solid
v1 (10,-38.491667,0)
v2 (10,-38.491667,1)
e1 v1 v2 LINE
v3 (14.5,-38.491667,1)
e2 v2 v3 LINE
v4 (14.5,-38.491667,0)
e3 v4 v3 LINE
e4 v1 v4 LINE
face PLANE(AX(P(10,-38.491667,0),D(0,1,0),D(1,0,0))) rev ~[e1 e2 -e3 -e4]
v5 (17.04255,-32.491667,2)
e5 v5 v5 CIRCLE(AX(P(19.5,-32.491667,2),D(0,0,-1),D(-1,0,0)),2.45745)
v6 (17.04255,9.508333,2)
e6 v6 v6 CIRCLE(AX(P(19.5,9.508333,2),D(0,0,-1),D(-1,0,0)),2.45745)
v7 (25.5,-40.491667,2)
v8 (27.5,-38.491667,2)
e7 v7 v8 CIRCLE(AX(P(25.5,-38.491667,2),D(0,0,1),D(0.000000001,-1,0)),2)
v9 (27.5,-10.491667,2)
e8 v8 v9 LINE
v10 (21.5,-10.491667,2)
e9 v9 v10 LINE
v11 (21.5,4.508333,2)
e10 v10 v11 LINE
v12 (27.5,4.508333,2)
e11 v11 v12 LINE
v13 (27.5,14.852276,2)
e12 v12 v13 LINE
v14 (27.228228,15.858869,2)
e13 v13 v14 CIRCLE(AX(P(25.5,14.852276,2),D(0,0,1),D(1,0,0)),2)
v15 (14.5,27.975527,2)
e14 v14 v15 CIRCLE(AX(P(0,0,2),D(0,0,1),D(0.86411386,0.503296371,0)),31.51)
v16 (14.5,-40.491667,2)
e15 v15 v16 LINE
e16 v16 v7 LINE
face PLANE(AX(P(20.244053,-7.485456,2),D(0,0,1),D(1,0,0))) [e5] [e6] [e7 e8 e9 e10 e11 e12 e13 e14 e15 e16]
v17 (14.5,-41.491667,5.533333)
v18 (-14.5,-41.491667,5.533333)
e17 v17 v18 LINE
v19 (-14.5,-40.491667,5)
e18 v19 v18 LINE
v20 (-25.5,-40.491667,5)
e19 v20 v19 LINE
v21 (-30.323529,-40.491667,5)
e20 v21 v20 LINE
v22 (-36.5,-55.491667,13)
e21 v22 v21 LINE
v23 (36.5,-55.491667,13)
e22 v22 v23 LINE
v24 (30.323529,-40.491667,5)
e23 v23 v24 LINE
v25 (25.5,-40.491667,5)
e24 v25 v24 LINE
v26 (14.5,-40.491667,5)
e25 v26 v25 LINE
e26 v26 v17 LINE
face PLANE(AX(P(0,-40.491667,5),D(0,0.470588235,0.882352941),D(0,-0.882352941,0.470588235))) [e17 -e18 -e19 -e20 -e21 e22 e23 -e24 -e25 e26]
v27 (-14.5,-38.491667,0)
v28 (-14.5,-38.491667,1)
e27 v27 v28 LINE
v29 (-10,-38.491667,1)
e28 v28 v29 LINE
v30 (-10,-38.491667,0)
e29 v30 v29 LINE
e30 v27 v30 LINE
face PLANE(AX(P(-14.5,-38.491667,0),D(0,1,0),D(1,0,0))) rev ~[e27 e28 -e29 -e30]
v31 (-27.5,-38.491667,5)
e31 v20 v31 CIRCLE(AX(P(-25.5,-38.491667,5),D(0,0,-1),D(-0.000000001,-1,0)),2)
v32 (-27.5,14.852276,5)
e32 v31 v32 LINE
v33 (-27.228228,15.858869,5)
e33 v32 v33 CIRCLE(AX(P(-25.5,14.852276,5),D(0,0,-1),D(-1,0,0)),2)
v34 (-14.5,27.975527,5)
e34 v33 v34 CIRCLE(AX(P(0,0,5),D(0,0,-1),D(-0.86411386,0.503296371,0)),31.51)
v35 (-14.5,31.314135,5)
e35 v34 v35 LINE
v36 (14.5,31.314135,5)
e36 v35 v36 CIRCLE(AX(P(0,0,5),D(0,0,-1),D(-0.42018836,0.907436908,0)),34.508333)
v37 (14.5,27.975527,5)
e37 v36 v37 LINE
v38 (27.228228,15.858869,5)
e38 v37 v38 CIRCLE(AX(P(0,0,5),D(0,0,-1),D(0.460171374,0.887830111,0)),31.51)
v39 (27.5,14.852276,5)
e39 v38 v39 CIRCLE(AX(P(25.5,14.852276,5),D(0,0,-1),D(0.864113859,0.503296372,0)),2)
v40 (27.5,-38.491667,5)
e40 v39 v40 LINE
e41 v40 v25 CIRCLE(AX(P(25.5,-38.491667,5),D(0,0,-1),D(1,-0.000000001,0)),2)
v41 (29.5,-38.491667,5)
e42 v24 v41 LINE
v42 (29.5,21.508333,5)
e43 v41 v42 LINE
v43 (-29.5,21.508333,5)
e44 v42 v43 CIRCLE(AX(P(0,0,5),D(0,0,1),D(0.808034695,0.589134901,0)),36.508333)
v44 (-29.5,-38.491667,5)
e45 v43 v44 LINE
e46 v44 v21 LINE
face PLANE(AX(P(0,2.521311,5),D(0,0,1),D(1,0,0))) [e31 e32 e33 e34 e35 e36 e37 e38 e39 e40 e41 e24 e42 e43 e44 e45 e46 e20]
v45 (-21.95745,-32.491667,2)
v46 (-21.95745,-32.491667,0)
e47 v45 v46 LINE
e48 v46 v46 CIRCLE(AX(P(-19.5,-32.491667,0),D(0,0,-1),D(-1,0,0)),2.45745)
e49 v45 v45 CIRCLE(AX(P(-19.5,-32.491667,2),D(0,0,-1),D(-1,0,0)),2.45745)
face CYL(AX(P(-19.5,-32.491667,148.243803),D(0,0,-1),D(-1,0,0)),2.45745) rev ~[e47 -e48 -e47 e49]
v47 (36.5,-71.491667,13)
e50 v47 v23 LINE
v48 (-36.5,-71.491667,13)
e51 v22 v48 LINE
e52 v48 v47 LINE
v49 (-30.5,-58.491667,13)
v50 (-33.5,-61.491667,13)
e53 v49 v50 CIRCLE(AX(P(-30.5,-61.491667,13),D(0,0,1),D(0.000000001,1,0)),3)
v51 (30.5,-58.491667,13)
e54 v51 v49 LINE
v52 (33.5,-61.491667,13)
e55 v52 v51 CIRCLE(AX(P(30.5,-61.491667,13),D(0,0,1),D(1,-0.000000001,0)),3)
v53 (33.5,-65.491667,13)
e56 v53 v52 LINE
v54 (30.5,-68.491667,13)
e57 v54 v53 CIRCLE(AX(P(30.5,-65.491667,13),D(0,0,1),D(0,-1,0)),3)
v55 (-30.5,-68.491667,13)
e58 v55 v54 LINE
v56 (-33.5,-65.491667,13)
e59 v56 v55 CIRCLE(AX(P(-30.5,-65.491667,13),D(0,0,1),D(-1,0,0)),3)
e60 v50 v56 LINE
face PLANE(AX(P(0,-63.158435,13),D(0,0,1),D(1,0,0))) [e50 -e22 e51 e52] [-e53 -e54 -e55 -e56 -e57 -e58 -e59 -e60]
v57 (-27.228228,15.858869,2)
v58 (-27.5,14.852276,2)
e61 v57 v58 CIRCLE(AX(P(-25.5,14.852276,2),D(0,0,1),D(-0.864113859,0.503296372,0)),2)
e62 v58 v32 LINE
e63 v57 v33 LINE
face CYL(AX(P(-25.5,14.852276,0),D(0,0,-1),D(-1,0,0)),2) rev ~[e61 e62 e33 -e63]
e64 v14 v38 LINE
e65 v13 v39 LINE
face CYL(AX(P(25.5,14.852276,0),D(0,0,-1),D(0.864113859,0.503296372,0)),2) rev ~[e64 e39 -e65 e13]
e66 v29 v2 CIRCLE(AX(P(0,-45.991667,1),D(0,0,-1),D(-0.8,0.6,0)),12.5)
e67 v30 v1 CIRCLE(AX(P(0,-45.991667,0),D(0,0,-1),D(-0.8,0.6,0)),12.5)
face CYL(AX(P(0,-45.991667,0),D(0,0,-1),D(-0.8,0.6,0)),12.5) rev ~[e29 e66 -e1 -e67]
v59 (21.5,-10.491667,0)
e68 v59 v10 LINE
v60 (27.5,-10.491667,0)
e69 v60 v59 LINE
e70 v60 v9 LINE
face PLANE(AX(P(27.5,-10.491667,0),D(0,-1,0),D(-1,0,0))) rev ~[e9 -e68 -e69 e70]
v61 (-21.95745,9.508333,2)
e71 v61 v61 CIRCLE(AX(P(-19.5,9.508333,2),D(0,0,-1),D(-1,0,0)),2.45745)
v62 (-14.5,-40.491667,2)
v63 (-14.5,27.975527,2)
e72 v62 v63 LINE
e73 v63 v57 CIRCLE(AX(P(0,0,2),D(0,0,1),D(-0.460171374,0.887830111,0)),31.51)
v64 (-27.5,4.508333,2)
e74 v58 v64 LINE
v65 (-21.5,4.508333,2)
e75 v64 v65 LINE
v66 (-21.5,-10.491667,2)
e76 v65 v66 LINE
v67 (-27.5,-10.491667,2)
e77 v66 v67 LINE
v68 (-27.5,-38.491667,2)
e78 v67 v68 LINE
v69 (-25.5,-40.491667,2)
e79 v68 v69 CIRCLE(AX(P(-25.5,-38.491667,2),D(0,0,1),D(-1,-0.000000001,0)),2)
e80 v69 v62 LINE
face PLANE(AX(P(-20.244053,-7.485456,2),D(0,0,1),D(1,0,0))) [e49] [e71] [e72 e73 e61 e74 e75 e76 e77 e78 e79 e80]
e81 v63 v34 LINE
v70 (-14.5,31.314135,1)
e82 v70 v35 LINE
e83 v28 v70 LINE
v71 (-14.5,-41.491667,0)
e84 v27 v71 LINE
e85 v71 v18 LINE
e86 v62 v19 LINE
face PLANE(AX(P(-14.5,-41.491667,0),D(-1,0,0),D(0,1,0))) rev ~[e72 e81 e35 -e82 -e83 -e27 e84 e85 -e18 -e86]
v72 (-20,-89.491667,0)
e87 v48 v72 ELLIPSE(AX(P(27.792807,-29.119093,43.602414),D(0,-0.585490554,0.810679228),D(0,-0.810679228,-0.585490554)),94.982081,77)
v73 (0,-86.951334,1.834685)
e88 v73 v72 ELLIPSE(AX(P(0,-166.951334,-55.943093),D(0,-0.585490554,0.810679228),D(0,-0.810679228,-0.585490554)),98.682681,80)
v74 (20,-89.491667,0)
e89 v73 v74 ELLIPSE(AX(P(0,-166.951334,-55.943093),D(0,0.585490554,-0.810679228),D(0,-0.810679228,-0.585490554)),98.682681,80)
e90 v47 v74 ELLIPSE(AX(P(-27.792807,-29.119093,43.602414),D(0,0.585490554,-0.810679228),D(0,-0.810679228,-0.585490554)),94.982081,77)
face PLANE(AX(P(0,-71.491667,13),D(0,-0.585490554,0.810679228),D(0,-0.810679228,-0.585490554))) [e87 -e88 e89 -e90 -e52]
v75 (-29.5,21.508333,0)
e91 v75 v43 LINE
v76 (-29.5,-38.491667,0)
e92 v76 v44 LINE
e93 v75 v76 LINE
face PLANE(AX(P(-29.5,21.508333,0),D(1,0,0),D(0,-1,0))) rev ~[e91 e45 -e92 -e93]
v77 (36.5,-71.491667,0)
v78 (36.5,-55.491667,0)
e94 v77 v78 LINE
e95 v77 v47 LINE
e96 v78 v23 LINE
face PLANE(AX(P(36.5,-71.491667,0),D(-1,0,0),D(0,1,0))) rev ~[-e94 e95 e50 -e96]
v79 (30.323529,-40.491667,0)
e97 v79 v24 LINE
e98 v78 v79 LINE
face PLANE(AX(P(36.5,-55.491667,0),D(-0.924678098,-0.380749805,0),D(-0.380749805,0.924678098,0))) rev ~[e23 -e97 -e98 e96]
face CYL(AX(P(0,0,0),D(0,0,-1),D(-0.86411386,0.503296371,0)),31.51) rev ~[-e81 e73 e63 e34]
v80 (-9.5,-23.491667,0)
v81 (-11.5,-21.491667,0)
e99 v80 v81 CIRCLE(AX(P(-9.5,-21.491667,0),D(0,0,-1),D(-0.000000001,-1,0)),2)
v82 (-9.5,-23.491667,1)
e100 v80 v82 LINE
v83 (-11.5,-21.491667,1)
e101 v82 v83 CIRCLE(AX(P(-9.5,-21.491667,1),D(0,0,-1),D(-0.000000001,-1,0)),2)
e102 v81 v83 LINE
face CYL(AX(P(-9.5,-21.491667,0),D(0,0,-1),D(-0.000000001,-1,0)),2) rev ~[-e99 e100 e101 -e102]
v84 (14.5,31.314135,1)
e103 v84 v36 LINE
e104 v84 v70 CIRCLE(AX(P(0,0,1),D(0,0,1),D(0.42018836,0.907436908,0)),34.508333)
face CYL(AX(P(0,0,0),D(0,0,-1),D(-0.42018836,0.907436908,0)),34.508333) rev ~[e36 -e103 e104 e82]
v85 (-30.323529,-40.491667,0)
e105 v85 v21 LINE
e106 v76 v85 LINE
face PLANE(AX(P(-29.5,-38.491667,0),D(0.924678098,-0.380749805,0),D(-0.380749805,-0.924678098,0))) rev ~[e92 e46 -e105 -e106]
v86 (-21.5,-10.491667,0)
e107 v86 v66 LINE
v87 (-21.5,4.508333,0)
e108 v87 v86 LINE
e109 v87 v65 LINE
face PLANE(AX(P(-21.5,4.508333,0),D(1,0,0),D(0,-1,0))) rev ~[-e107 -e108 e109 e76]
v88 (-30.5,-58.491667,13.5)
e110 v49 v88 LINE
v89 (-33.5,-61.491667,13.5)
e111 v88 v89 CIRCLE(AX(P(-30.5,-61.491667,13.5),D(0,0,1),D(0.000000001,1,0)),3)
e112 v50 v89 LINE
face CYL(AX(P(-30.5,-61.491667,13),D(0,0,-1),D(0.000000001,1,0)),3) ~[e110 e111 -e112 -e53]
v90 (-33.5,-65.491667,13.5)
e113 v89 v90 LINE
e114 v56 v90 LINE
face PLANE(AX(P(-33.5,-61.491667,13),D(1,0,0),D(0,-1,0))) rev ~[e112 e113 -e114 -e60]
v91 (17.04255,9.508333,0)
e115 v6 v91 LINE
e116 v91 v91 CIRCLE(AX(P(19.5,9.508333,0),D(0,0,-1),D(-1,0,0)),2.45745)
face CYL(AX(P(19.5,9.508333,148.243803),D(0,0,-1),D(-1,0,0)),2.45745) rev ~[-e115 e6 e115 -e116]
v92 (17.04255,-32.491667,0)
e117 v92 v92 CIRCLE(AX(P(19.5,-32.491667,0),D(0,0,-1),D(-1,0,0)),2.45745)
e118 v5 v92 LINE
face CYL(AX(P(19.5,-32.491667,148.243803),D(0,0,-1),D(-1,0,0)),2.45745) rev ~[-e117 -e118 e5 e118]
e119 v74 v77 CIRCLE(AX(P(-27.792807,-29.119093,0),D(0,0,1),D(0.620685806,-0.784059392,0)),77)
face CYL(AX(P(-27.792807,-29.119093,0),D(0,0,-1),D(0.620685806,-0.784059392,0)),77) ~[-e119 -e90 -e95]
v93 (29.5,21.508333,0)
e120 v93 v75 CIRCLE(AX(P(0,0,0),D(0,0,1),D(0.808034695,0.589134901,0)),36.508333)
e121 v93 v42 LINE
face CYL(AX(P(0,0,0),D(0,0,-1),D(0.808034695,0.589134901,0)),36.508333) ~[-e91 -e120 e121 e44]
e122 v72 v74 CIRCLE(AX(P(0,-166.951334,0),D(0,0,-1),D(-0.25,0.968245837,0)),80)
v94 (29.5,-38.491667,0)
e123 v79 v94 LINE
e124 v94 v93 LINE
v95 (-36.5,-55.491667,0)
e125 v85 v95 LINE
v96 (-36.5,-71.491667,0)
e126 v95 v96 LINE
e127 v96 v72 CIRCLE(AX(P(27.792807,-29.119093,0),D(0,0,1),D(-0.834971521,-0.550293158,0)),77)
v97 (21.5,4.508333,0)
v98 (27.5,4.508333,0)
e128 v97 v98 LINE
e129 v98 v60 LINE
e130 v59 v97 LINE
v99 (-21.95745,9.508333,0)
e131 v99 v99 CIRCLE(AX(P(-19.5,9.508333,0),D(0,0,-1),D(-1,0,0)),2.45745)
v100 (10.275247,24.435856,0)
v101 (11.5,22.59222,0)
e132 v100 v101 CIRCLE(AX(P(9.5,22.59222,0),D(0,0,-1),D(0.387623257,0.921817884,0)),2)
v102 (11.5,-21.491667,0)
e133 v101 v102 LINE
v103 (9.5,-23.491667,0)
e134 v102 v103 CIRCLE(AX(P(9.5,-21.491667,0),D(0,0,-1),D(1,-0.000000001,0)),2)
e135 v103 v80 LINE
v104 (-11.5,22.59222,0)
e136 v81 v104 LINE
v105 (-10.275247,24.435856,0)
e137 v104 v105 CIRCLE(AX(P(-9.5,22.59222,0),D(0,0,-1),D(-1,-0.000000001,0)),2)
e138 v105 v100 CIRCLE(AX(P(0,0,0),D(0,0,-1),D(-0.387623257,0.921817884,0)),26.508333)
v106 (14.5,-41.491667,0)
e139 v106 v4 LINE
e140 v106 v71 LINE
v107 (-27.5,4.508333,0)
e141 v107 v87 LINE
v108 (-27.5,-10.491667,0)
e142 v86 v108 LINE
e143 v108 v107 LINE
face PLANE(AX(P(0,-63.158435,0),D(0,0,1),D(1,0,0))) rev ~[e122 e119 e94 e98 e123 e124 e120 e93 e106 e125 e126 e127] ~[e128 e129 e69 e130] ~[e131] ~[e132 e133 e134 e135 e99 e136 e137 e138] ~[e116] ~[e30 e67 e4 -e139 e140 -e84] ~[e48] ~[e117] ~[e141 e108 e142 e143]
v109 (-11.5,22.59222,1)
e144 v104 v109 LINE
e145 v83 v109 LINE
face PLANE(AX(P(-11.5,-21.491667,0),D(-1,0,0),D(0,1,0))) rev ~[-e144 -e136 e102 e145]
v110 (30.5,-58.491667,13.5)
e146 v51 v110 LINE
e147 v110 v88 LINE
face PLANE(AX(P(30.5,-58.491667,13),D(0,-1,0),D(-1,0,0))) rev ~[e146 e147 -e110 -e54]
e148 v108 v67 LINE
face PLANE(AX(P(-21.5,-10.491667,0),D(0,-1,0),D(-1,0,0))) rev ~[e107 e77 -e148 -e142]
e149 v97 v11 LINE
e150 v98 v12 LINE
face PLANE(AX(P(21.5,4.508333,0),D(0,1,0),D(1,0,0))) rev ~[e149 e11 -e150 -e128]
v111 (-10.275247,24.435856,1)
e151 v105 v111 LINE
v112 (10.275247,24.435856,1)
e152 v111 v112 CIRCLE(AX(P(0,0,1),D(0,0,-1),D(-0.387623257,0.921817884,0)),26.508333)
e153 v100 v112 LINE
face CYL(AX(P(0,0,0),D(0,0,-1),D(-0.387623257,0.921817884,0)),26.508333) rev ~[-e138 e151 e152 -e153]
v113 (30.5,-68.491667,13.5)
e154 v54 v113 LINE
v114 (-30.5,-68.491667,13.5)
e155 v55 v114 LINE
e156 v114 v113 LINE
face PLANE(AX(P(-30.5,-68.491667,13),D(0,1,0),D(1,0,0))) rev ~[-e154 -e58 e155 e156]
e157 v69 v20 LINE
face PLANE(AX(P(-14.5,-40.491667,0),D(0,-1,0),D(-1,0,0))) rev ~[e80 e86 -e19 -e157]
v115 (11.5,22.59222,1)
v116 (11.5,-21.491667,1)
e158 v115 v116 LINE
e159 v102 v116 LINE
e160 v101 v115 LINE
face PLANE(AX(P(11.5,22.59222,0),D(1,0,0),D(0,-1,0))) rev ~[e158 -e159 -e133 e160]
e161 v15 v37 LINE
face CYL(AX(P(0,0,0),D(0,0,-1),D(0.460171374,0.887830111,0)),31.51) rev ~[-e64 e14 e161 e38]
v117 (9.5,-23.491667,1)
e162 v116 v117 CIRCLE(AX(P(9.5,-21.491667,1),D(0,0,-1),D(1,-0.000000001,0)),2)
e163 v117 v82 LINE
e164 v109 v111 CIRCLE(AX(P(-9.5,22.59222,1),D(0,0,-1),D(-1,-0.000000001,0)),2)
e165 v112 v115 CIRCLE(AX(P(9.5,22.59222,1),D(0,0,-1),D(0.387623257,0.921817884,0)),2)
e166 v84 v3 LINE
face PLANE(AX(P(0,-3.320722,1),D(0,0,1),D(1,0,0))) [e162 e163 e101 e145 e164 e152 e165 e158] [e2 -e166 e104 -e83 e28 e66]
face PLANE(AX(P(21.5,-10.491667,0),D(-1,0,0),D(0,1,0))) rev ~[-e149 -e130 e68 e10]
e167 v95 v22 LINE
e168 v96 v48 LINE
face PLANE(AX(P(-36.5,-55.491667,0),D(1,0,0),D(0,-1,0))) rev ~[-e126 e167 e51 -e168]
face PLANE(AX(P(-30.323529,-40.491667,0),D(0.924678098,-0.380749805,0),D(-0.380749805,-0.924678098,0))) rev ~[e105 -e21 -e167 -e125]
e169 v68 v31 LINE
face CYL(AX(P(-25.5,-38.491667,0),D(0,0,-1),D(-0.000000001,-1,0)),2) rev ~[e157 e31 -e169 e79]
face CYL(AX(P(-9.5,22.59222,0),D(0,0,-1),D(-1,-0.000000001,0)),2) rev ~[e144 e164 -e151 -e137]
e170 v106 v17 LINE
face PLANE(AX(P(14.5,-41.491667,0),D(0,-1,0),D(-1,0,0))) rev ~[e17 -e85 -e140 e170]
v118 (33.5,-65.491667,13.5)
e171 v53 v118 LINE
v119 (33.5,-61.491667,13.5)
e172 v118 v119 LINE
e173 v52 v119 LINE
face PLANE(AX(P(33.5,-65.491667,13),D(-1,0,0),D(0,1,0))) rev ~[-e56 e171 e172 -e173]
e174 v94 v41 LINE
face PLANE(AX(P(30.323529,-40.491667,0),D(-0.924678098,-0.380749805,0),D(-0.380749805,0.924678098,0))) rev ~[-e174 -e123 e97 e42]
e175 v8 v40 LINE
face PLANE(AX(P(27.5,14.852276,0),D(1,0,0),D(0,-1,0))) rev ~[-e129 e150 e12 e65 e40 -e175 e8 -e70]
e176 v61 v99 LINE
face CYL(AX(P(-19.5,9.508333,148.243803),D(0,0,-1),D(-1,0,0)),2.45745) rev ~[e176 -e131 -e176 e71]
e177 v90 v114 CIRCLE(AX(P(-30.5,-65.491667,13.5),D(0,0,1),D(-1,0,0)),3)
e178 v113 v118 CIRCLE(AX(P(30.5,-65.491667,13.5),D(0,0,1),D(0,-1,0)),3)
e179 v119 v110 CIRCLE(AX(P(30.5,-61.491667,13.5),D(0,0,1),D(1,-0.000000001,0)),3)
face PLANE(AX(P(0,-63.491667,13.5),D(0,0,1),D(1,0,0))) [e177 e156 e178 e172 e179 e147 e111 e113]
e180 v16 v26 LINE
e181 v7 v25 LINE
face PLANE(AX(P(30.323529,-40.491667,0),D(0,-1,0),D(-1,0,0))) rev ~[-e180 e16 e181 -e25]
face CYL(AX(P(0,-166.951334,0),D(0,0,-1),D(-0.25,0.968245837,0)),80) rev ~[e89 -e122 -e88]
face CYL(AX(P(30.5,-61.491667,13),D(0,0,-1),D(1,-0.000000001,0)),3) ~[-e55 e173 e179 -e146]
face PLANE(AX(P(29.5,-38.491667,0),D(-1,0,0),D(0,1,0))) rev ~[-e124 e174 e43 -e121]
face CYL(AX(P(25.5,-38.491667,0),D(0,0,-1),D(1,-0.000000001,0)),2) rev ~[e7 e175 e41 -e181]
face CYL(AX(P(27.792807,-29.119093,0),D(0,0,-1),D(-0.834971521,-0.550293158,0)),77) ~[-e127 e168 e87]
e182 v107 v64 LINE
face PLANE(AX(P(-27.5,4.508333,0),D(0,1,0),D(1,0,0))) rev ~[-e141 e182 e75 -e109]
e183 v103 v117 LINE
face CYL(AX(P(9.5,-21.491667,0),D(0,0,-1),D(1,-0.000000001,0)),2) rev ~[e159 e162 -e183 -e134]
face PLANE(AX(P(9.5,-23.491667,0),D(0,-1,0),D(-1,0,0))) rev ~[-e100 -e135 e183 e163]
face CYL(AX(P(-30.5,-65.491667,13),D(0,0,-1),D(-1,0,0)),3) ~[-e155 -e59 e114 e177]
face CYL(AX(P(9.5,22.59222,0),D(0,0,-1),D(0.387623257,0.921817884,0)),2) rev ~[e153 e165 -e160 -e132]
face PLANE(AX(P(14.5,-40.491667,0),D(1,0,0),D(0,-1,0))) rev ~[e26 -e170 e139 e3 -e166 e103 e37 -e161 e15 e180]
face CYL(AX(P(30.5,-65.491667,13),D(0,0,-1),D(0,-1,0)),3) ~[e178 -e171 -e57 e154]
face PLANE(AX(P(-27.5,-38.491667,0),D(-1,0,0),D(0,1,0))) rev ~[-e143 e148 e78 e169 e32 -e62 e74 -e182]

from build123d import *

# Parameters (mm, degrees)
BOSS_EXTRUDE1_DEPTH            = 1
BOSS_EXTRUDE2_DEPTH            = 2
BOSS_EXTRUDE3_DEPTH            = 5
BOSS_EXTRUDE4_DEPTH            = 13
CUT_EXTRUDE1_REACH             = 99.519
CUT_EXTRUDE1_DIRECTION_2_REACH = 99.519
BOSS_EXTRUDE5_DEPTH            = 0.5
F_10_0_1935_DIAMETER_HOLE1_D   = 4.9149


with BuildPart() as part:
    # Sketch1 → Boss-Extrude1 (new body)
    with BuildSketch(Plane.XY):
        with BuildLine():
            Line((-14.5, 27.975526805), (-14.5, -38.491666667))
            Line((-14.5, -38.491666667), (-10, -38.491666667))
            ThreePointArc((-10, -38.491666667), (0, -33.491666667), (10, -38.491666667))
            Line((10, -38.491666667), (14.5, -38.491666667))
            Line((14.5, -38.491666667), (14.5, 27.975526805))
            Line((14.5, 27.975526805), (14.5, 31.314135298))
            ThreePointArc((14.5, 31.314135298), (0, 34.508333333), (-14.5, 31.314135298))
            Line((-14.5, 31.314135298), (-14.5, 27.975526805))
        make_face()
        with BuildLine():
            Line((-11.5, -21.491666667), (-11.5, 22.592219961))
            ThreePointArc((-11.5, 22.592219961), (-11.165907115, 23.698905773), (-10.275246515, 24.435855728))
            ThreePointArc((-10.275246515, 24.435855728), (0, 26.508333333), (10.275246515, 24.435855728))
            ThreePointArc((10.275246515, 24.435855728), (11.165907115, 23.698905773), (11.5, 22.592219961))
            Line((11.5, 22.592219961), (11.5, -21.491666667))
            ThreePointArc((11.5, -21.491666667), (10.914213562, -22.905880229), (9.5, -23.491666667))
            Line((9.5, -23.491666667), (-9.5, -23.491666667))
            ThreePointArc((-9.5, -23.491666667), (-10.914213562, -22.905880229), (-11.5, -21.491666667))
        make_face(mode=Mode.SUBTRACT)
    extrude(amount=BOSS_EXTRUDE1_DEPTH)

    # Sketch1<3> → Boss-Extrude2 (add)
    with BuildSketch(Plane.XY):
        with BuildLine():
            ThreePointArc((-27.5, -38.491666667), (-26.914213562, -39.905880229), (-25.5, -40.491666667))
            Line((-25.5, -40.491666667), (-14.5, -40.491666667))
            Line((-14.5, -40.491666667), (-14.5, 27.975526805))
            ThreePointArc((-14.5, 27.975526805), (-21.72589695, 22.822477992), (-27.228227719, 15.858868663))
            ThreePointArc((-27.228227719, 15.858868663), (-27.430861911, 15.373593751), (-27.5, 14.85227592))
            Line((-27.5, 14.85227592), (-27.5, 4.508333333))
            Line((-27.5, 4.508333333), (-21.5, 4.508333333))
            Line((-21.5, 4.508333333), (-21.5, -10.491666667))
            Line((-21.5, -10.491666667), (-27.5, -10.491666667))
            Line((-27.5, -10.491666667), (-27.5, -38.491666667))
        make_face()
        with BuildLine():
            Line((14.5, -40.491666667), (25.5, -40.491666667))
            ThreePointArc((25.5, -40.491666667), (26.914213562, -39.905880229), (27.5, -38.491666667))
            Line((27.5, -38.491666667), (27.5, -10.491666667))
            Line((27.5, -10.491666667), (21.5, -10.491666667))
            Line((21.5, -10.491666667), (21.5, 4.508333333))
            Line((21.5, 4.508333333), (27.5, 4.508333333))
            Line((27.5, 4.508333333), (27.5, 14.85227592))
            ThreePointArc((27.5, 14.85227592), (27.430861911, 15.373593751), (27.228227719, 15.858868663))
            ThreePointArc((27.228227719, 15.858868663), (21.72589695, 22.822477992), (14.5, 27.975526805))
            Line((14.5, 27.975526805), (14.5, -40.491666667))
        make_face()
    extrude(amount=BOSS_EXTRUDE2_DEPTH)

    # Sketch1<5> → Boss-Extrude3 (add)
    with BuildSketch(Plane.XY):
        with BuildLine():
            ThreePointArc((29.5, 21.508333333), (0, 36.508333333), (-29.5, 21.508333333))
            Line((-29.5, 21.508333333), (-29.5, -38.491666667))
            Line((-29.5, -38.491666667), (-30.323529412, -40.491666667))
            Line((-30.323529412, -40.491666667), (-25.5, -40.491666667))
            ThreePointArc((-25.5, -40.491666667), (-26.914213562, -39.905880229), (-27.5, -38.491666667))
            Line((-27.5, -38.491666667), (-27.5, -10.491666667))
            Line((-27.5, -10.491666667), (-27.5, 4.508333333))
            Line((-27.5, 4.508333333), (-27.5, 14.85227592))
            ThreePointArc((-27.5, 14.85227592), (-27.430861911, 15.373593751), (-27.228227719, 15.858868663))
            ThreePointArc((-27.228227719, 15.858868663), (-21.72589695, 22.822477992), (-14.5, 27.975526805))
            Line((-14.5, 27.975526805), (-14.5, 31.314135298))
            ThreePointArc((-14.5, 31.314135298), (0, 34.508333333), (14.5, 31.314135298))
            Line((14.5, 31.314135298), (14.5, 27.975526805))
            ThreePointArc((14.5, 27.975526805), (21.72589695, 22.822477992), (27.228227719, 15.858868663))
            ThreePointArc((27.228227719, 15.858868663), (27.430861911, 15.373593751), (27.5, 14.85227592))
            Line((27.5, 14.85227592), (27.5, 4.508333333))
            Line((27.5, 4.508333333), (27.5, -10.491666667))
            Line((27.5, -10.491666667), (27.5, -38.491666667))
            ThreePointArc((27.5, -38.491666667), (26.914213562, -39.905880229), (25.5, -40.491666667))
            Line((25.5, -40.491666667), (30.323529412, -40.491666667))
            Line((30.323529412, -40.491666667), (29.5, -38.491666667))
            Line((29.5, -38.491666667), (29.5, 21.508333333))
        make_face()
    extrude(amount=BOSS_EXTRUDE3_DEPTH)

    # Sketch1<6> → Boss-Extrude4 (add)
    with BuildSketch(Plane.XY):
        with BuildLine():
            Line((-25.5, -40.491666667), (-30.323529412, -40.491666667))
            Line((-30.323529412, -40.491666667), (-36.5, -55.491666667))
            Line((-36.5, -55.491666667), (-36.5, -71.491666667))
            ThreePointArc((-36.5, -71.491666667), (-28.968061706, -81.149889898), (-20, -89.491666667))
            ThreePointArc((-20, -89.491666667), (0, -86.951333591), (20, -89.491666667))
            ThreePointArc((20, -89.491666667), (28.968061706, -81.149889898), (36.5, -71.491666667))
            Line((36.5, -71.491666667), (36.5, -55.491666667))
            Line((36.5, -55.491666667), (30.323529412, -40.491666667))
            Line((30.323529412, -40.491666667), (25.5, -40.491666667))
            Line((25.5, -40.491666667), (14.5, -40.491666667))
            Line((14.5, -40.491666667), (14.5, -41.491666667))
            Line((14.5, -41.491666667), (-14.5, -41.491666667))
            Line((-14.5, -41.491666667), (-14.5, -40.491666667))
            Line((-14.5, -40.491666667), (-25.5, -40.491666667))
        make_face()
    extrude(amount=BOSS_EXTRUDE4_DEPTH)

    # Sketch2 → Cut-Extrude1 (cut, up to next)
    with BuildSketch(Plane(origin=(0, 0, 0), x_dir=(0, 0, -1), z_dir=(1, 0, 0)), mode=Mode.PRIVATE) as cut_extrude1_sk1:
        Polygon((-5, -40.491666667), (-13, -55.491666667), (-13, -40.491666667), align=None)
    cut_extrude1_tool1 = extrude(cut_extrude1_sk1.sketch, amount=-CUT_EXTRUDE1_REACH, mode=Mode.PRIVATE) & part.part
    # Sketch2 → Cut-Extrude1 (cut, up to next)
    with BuildSketch(Plane(origin=(0, 0, 0), x_dir=(0, 0, -1), z_dir=(1, 0, 0)), mode=Mode.PRIVATE) as cut_extrude1_sk2:
        Polygon((-13, -71.491666667), (0, -89.491666667), (-13, -89.491666667), align=None)
    cut_extrude1_tool2 = extrude(cut_extrude1_sk2.sketch, amount=-CUT_EXTRUDE1_REACH, mode=Mode.PRIVATE) & part.part
    add(cut_extrude1_tool1.solids().sort_by_distance((0, -45.491667, 10.333333))[0], mode=Mode.SUBTRACT)
    add(cut_extrude1_tool2.solids().sort_by_distance((0, -83.491667, 8.666667))[0], mode=Mode.SUBTRACT)

    # Sketch2 → Cut-Extrude1 direction 2 (cut, up to next)
    with BuildSketch(Plane(origin=(0, 0, 0), x_dir=(0, 0, -1), z_dir=(1, 0, 0)), mode=Mode.PRIVATE) as cut_extrude1_direction_2_sk1:
        Polygon((-5, -40.491666667), (-13, -55.491666667), (-13, -40.491666667), align=None)
    cut_extrude1_direction_2_tool1 = extrude(cut_extrude1_direction_2_sk1.sketch, amount=CUT_EXTRUDE1_DIRECTION_2_REACH, mode=Mode.PRIVATE) & part.part
    # Sketch2 → Cut-Extrude1 direction 2 (cut, up to next)
    with BuildSketch(Plane(origin=(0, 0, 0), x_dir=(0, 0, -1), z_dir=(1, 0, 0)), mode=Mode.PRIVATE) as cut_extrude1_direction_2_sk2:
        Polygon((-13, -71.491666667), (0, -89.491666667), (-13, -89.491666667), align=None)
    cut_extrude1_direction_2_tool2 = extrude(cut_extrude1_direction_2_sk2.sketch, amount=CUT_EXTRUDE1_DIRECTION_2_REACH, mode=Mode.PRIVATE) & part.part
    add(cut_extrude1_direction_2_tool1.solids().sort_by_distance((0, -45.491667, 10.333333))[0], mode=Mode.SUBTRACT)
    add(cut_extrude1_direction_2_tool2.solids().sort_by_distance((0, -83.491667, 8.666667))[0], mode=Mode.SUBTRACT)

    # Sketch3 → Boss-Extrude5 (add)
    with BuildSketch(Plane.XY.offset(13)):
        with BuildLine():
            Line((-33.5, -61.491666667), (-33.5, -65.491666667))
            ThreePointArc((-33.5, -65.491666667), (-32.621320344, -67.61298701), (-30.5, -68.491666667))
            Line((-30.5, -68.491666667), (30.5, -68.491666667))
            ThreePointArc((30.5, -68.491666667), (32.621320344, -67.61298701), (33.5, -65.491666667))
            Line((33.5, -65.491666667), (33.5, -61.491666667))
            ThreePointArc((33.5, -61.491666667), (32.621320344, -59.370346323), (30.5, -58.491666667))
            Line((30.5, -58.491666667), (-30.5, -58.491666667))
            ThreePointArc((-30.5, -58.491666667), (-32.621320344, -59.370346323), (-33.5, -61.491666667))
        make_face()
    extrude(amount=BOSS_EXTRUDE5_DEPTH)

    # #10 (0.1935) Diameter Hole1 (through all)
    with Locations(Plane.XY.offset(2)):
        with Locations((19.5, -32.491666667), (-19.5, -32.491666667), (-19.5, 9.508333333), (19.5, 9.508333333)):
            Hole(F_10_0_1935_DIAMETER_HOLE1_D / 2)


solid = part.part
